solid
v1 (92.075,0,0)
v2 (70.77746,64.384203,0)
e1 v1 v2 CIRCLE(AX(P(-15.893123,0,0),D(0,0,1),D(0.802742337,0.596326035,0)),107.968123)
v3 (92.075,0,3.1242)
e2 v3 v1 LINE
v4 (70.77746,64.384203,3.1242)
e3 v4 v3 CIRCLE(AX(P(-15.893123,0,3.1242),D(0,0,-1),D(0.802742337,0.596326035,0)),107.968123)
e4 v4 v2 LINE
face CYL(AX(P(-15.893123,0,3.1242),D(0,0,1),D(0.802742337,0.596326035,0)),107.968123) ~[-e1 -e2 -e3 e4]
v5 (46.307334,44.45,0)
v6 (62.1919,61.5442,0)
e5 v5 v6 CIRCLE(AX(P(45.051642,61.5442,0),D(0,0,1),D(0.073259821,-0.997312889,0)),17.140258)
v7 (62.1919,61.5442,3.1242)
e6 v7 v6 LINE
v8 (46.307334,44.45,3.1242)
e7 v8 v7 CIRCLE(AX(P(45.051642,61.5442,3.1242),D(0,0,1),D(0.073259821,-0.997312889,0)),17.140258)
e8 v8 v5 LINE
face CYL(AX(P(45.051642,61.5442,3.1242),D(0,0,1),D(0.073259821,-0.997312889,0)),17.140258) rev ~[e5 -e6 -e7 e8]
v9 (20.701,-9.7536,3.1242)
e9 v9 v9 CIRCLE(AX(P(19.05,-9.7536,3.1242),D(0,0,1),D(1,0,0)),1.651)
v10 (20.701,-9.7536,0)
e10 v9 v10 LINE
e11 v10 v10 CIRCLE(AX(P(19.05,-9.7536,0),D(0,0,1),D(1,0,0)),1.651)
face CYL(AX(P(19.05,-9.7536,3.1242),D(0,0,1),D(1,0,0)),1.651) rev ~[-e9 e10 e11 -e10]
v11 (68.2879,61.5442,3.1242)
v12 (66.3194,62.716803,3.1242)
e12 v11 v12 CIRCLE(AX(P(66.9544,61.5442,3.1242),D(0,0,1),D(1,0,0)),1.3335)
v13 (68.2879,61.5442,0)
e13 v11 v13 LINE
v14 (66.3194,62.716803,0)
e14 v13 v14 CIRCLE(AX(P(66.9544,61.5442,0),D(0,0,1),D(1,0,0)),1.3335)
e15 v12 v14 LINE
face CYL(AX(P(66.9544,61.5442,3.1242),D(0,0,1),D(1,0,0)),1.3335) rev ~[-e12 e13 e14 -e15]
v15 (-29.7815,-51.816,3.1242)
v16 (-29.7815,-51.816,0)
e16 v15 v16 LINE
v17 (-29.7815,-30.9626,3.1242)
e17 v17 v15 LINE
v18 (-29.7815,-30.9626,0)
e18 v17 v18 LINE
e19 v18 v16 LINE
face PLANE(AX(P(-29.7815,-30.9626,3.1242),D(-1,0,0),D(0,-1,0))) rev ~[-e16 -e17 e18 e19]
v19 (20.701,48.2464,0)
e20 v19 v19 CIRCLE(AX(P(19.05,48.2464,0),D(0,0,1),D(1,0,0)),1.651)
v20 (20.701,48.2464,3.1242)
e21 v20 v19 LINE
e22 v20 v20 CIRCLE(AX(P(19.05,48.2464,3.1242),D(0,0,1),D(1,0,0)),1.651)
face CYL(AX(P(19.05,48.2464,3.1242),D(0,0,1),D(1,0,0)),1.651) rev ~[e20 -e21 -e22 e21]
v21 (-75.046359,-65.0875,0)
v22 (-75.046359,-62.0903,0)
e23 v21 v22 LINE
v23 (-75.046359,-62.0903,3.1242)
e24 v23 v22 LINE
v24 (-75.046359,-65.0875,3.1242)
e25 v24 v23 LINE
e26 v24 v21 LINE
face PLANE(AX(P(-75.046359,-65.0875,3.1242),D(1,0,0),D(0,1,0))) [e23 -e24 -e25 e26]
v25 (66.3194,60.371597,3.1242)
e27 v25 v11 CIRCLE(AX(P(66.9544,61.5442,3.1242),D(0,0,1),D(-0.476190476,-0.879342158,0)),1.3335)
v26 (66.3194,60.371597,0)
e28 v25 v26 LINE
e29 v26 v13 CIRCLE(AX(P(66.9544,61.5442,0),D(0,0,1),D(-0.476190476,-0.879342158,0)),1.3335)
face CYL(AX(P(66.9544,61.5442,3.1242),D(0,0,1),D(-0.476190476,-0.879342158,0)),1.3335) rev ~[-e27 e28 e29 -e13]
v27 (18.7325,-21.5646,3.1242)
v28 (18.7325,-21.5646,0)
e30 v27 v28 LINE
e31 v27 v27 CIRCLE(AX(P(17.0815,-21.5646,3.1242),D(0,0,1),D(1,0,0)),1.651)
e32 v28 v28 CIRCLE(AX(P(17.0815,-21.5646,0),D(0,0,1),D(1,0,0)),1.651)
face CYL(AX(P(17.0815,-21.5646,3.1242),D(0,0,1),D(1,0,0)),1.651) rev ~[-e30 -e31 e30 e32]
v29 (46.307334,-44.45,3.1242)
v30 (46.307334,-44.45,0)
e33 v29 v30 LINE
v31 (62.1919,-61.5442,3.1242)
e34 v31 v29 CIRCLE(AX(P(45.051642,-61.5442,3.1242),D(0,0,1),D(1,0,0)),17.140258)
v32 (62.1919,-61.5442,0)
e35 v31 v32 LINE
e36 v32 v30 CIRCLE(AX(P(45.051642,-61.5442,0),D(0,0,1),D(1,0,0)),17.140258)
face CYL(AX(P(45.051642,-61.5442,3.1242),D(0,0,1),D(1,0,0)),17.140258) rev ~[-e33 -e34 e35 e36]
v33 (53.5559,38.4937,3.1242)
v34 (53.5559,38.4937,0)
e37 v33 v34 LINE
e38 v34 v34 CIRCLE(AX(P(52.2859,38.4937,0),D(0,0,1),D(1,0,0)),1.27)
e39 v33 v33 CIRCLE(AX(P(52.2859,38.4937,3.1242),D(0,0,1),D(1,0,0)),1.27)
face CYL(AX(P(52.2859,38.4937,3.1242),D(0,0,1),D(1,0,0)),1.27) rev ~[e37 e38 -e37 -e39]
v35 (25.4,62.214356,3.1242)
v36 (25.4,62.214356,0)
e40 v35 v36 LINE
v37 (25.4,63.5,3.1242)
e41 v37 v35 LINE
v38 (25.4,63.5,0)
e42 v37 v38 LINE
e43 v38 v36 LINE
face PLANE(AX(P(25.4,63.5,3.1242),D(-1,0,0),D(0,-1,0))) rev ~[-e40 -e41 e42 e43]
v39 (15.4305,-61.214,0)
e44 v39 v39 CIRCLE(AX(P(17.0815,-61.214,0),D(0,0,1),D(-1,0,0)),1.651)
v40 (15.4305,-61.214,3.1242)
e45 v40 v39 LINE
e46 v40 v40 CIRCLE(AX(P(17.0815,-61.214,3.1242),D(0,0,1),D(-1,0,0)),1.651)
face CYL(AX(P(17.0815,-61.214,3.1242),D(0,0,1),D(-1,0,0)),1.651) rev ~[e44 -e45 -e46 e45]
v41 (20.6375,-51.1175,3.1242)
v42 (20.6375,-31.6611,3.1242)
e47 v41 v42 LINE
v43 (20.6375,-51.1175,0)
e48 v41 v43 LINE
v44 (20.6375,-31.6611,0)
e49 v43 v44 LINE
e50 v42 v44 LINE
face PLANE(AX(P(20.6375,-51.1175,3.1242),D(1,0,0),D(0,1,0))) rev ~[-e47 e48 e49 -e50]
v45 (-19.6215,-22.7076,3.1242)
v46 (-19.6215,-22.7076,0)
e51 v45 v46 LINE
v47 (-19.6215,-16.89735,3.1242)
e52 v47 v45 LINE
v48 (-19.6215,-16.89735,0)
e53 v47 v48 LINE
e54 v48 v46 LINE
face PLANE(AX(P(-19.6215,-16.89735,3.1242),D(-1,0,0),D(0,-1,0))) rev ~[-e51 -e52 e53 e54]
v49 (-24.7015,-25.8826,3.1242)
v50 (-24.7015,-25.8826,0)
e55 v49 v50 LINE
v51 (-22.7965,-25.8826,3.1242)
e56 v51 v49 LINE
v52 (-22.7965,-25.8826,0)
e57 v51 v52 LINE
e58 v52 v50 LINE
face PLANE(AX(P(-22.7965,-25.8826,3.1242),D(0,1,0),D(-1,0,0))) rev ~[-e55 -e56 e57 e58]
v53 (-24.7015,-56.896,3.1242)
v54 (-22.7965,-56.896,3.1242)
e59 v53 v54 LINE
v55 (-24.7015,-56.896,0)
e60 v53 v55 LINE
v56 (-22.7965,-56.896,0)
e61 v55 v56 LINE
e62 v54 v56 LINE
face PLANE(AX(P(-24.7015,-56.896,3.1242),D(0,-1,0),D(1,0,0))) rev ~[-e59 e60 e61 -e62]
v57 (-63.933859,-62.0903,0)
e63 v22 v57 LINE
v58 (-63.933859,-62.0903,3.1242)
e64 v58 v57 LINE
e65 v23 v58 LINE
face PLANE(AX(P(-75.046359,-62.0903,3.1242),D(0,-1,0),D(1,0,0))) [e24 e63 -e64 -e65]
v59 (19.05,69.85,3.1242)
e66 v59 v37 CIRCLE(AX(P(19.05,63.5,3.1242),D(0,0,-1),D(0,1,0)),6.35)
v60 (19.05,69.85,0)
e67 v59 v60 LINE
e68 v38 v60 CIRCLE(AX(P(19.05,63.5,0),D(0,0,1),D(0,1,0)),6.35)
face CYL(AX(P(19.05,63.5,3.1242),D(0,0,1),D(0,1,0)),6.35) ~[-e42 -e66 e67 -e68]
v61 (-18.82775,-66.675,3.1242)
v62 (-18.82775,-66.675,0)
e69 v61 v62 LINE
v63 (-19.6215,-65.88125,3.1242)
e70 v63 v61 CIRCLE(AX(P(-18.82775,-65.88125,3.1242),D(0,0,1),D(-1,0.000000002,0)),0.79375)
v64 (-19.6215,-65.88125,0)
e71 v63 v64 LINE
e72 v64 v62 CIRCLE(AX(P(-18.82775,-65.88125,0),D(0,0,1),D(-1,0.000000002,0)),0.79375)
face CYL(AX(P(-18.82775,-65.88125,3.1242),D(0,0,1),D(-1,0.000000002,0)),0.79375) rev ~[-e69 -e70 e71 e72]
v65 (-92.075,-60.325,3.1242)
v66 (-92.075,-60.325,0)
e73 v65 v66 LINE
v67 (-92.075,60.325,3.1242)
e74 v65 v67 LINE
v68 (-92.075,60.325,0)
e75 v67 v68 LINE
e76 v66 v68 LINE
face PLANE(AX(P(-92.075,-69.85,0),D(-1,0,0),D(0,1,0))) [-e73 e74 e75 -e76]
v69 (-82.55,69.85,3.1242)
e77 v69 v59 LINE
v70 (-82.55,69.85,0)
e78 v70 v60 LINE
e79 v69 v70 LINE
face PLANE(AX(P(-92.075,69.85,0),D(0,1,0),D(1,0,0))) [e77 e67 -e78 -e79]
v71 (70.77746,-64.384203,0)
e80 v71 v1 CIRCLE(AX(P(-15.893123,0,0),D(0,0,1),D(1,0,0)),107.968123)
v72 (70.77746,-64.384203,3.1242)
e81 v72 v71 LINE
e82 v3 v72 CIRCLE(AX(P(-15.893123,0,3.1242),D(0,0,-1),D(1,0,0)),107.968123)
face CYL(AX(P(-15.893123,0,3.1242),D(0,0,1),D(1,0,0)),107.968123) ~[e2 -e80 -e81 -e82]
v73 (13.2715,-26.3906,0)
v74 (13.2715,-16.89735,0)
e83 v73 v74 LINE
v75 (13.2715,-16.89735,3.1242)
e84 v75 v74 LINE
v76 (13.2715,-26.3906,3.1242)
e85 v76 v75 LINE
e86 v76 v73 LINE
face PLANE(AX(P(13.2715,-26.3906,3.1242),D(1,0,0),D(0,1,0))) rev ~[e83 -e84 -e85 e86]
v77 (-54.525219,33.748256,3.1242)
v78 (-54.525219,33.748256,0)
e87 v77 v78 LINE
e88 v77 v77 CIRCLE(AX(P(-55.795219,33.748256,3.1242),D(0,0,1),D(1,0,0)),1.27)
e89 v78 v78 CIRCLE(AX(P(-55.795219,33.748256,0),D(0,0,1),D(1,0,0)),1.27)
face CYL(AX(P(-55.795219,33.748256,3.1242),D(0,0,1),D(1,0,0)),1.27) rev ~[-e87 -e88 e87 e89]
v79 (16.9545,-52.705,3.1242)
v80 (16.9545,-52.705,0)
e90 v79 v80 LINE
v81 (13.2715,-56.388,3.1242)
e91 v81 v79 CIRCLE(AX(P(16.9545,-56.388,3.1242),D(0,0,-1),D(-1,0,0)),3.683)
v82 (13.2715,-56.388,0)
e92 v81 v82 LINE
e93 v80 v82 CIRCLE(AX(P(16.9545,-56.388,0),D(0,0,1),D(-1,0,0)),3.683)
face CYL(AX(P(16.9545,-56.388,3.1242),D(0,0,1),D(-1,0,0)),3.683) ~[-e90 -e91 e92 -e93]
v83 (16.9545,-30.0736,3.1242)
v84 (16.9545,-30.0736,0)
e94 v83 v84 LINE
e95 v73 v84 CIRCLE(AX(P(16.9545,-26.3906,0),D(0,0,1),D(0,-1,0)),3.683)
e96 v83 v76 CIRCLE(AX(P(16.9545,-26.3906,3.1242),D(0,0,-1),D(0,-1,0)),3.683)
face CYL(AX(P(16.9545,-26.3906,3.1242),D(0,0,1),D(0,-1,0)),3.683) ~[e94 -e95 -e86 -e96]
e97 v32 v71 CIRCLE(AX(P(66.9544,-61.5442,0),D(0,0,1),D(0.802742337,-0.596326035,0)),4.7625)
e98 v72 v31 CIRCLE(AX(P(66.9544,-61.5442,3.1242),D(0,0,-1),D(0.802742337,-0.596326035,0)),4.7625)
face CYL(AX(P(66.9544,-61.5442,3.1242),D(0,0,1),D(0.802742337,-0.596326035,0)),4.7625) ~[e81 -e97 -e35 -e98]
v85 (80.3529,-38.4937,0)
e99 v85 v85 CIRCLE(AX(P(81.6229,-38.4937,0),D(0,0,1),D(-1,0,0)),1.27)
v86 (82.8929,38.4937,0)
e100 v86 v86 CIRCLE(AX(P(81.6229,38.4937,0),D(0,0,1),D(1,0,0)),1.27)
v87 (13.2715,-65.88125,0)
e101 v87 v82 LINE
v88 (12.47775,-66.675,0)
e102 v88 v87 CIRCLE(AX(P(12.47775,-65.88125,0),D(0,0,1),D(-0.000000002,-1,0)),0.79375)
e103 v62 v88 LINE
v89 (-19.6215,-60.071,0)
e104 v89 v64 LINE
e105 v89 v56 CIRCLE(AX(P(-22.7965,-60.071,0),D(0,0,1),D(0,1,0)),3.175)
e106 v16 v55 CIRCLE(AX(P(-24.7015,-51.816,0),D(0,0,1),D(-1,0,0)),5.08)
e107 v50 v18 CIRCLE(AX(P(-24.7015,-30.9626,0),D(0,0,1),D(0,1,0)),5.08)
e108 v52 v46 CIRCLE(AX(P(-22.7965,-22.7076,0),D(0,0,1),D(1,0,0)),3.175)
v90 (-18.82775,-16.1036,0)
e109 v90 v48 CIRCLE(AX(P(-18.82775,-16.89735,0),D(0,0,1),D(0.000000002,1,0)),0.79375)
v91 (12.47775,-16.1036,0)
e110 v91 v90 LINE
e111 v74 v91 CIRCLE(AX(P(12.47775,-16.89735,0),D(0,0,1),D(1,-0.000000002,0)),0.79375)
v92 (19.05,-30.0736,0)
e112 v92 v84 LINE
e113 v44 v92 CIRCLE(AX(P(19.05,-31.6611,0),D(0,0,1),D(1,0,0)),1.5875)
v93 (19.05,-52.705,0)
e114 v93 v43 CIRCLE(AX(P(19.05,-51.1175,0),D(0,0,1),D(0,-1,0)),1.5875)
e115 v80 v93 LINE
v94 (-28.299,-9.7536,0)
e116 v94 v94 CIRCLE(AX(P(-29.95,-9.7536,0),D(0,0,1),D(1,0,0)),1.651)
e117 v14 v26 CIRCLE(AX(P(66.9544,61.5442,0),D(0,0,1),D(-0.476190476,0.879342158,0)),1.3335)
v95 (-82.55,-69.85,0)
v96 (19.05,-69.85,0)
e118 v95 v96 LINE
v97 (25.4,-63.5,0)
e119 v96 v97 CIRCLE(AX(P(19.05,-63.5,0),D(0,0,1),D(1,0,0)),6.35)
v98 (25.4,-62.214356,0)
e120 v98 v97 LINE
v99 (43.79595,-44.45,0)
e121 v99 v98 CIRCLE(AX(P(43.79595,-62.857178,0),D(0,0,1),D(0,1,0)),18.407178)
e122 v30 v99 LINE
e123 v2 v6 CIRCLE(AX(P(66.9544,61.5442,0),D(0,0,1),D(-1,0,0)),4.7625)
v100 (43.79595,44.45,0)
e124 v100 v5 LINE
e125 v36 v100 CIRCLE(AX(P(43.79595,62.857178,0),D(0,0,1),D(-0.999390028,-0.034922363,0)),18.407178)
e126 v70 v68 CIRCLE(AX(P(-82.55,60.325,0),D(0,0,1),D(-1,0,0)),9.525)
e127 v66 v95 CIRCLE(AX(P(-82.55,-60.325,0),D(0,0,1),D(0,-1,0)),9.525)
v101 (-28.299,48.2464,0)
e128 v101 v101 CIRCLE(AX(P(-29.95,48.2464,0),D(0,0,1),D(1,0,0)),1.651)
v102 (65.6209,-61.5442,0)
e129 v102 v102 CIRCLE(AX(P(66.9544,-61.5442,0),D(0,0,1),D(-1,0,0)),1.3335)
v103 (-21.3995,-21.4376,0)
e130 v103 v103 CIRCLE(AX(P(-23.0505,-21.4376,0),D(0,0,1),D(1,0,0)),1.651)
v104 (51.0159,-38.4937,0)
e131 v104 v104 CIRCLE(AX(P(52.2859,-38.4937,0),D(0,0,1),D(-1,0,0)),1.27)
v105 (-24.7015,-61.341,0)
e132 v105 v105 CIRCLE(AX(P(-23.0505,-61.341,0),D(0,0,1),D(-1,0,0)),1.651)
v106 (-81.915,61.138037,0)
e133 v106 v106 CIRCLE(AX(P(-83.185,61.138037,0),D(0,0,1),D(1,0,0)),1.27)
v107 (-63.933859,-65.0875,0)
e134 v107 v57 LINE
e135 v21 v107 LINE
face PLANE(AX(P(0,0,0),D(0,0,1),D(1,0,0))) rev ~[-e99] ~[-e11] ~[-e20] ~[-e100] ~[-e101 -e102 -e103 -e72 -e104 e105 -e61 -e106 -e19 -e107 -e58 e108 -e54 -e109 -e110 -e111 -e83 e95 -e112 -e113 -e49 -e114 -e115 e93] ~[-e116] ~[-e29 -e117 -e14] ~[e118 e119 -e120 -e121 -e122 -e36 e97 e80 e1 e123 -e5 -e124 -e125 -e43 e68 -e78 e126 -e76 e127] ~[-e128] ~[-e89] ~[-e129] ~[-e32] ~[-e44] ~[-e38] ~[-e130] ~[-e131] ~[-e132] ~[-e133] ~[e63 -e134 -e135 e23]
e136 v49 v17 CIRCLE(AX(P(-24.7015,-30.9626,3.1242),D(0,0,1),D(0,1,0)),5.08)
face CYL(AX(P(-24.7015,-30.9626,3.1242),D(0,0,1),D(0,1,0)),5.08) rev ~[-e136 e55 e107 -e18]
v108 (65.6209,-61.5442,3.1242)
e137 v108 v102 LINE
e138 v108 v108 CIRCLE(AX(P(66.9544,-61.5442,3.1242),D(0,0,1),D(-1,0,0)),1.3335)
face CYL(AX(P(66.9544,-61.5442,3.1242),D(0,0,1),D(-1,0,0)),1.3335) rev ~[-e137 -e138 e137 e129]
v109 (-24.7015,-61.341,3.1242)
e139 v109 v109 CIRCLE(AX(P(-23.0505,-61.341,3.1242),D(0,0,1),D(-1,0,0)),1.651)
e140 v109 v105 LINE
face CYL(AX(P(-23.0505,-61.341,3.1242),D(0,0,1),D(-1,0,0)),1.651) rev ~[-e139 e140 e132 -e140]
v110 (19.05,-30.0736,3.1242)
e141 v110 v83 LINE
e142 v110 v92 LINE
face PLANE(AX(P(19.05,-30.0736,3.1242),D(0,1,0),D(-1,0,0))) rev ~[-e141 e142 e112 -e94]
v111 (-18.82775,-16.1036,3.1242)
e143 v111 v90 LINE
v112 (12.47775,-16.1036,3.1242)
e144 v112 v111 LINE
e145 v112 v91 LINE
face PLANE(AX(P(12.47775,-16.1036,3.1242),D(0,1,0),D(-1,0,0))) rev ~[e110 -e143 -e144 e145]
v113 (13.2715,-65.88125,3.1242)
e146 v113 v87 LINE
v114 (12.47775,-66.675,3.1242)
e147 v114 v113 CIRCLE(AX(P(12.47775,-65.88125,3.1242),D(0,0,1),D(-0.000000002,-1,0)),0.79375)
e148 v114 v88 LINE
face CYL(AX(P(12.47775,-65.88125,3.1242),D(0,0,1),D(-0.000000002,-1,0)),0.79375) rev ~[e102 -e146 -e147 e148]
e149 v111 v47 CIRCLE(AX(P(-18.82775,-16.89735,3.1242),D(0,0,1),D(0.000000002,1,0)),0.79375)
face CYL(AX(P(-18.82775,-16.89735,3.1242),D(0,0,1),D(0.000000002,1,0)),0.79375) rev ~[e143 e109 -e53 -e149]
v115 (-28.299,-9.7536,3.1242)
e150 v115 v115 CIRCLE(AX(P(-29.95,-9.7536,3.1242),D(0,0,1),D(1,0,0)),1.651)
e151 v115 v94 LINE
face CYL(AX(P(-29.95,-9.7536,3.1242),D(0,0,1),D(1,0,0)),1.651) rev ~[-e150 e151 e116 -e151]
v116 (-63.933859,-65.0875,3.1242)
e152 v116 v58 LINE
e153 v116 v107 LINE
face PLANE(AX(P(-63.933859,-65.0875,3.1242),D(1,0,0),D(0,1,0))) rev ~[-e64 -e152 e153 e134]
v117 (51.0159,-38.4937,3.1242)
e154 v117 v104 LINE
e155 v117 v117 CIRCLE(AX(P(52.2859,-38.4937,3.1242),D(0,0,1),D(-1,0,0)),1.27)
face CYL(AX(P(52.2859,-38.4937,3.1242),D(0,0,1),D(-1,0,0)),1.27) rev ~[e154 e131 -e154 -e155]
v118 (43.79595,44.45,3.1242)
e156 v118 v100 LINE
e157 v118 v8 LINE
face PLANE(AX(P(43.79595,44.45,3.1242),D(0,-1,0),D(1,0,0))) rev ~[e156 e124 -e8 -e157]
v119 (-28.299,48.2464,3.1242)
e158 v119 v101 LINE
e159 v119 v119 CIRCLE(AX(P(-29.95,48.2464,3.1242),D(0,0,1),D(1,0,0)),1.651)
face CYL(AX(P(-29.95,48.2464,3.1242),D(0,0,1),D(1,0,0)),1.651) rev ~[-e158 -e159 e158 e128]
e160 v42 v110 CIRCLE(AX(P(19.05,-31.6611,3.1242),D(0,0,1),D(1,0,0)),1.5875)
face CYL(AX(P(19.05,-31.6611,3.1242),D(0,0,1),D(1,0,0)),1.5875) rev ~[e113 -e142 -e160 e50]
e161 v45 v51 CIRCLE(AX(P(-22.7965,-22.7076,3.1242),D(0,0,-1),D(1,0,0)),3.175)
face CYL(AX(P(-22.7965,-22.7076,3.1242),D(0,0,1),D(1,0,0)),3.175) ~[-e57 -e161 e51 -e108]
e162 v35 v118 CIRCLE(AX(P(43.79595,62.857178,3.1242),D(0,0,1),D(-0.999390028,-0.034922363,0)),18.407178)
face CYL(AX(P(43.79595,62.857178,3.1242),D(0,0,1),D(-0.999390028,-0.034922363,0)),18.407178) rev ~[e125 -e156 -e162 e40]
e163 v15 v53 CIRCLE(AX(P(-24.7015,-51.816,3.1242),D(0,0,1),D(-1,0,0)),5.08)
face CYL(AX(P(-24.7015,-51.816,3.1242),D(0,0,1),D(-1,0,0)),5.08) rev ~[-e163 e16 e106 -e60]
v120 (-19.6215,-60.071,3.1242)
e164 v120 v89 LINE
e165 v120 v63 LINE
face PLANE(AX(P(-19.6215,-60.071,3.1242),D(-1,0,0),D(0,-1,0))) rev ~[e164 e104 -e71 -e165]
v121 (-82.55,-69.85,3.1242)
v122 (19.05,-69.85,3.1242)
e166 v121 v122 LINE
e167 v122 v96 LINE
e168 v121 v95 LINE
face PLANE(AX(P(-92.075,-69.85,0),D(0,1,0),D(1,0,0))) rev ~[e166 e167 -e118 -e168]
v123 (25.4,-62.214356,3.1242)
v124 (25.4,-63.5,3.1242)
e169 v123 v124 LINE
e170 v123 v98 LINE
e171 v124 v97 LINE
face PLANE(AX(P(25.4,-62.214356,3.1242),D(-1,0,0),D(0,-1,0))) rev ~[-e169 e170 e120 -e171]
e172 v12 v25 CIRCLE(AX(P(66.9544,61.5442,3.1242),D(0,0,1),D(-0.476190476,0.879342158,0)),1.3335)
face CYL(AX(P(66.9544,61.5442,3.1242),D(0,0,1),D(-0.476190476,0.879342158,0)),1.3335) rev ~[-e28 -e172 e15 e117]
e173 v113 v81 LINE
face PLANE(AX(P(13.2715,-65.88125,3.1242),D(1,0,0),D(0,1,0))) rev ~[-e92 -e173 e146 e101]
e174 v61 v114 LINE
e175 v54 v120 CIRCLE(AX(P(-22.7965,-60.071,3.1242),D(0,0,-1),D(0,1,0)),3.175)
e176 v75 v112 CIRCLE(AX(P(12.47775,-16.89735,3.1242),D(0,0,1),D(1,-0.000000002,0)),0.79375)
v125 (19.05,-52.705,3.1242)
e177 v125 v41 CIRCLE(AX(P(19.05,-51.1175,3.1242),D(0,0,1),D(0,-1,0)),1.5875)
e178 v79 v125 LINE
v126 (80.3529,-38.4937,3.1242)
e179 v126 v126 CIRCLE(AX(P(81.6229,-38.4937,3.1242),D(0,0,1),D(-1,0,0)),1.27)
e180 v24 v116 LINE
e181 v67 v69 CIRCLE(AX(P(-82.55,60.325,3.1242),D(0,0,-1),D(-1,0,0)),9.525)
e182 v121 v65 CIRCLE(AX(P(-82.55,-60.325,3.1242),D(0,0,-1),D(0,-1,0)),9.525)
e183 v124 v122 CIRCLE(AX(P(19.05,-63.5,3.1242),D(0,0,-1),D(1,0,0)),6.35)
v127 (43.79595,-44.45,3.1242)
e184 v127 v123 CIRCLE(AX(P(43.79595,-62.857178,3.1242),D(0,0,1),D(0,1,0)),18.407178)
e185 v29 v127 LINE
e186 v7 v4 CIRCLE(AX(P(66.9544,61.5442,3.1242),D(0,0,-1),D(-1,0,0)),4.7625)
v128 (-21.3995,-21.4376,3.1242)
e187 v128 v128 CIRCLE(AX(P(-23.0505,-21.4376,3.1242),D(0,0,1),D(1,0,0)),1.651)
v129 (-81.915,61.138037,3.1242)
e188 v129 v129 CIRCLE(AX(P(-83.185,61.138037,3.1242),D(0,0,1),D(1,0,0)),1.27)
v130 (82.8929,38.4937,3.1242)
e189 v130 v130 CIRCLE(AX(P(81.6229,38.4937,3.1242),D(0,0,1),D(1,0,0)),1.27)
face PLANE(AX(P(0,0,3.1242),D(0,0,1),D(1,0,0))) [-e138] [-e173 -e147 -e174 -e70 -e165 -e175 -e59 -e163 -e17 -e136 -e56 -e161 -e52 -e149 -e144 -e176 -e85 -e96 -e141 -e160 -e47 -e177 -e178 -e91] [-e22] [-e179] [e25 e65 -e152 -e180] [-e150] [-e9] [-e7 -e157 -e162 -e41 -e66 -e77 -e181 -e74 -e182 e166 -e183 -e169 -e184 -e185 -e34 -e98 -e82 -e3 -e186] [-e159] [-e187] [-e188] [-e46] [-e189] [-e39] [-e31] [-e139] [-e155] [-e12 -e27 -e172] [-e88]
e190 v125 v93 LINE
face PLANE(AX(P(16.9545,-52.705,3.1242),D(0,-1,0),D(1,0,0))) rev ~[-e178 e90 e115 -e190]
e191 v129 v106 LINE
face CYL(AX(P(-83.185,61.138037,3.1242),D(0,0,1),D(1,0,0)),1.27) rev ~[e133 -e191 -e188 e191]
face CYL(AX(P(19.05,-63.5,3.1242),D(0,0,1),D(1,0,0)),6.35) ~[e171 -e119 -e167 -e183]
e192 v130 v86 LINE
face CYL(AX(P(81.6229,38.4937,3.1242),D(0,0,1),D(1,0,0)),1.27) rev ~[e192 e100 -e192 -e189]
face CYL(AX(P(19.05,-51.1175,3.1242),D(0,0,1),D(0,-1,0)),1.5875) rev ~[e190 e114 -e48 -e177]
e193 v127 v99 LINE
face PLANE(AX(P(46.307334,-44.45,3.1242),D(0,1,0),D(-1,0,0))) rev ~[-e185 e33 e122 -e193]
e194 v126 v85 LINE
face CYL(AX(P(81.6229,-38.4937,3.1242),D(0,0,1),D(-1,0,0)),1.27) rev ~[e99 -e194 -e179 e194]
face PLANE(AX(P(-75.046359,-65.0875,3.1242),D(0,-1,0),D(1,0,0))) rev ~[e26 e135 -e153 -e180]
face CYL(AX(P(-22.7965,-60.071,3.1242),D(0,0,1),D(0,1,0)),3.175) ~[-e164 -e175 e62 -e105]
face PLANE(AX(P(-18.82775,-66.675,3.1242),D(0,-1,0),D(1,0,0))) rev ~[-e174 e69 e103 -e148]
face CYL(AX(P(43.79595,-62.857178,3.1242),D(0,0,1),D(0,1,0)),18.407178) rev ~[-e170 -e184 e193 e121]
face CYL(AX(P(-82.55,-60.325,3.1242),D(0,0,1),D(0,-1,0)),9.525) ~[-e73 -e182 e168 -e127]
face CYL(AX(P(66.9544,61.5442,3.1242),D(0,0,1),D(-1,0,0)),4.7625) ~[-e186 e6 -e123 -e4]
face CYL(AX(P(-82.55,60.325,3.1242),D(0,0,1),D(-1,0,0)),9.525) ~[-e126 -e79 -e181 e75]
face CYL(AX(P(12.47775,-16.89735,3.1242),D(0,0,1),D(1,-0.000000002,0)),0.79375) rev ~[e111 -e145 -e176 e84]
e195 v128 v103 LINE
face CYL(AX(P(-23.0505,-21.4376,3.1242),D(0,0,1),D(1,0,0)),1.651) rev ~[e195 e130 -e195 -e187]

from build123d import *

# Parameters (mm, degrees)
CROQUIS1_W              = 184.15
CROQUIS1_H              = 139.7
SALIENTE_EXTRUIR1_DEPTH = 3.1242
CROQUIS2_R              = 1.3335
CORTAR_EXTRUIR1_DEPTH   = 116.613964341
CROQUIS9_R              = 1.27
CORTAR_EXTRUIR6_DEPTH   = 116.613964341
CORTAR_EXTRUIR2_DEPTH   = 116.613964341
CROQUIS5_R              = 1.651
DRIVER_DEPTH            = 116.613964341
CROQUIS6_R              = 1.651
RASPI_DEPTH             = 116.613964341
CROQUIS8_R              = 1.27
CORTAR_EXTRUIR5_DEPTH   = 116.613964341
CROQUIS7_W              = 11.1125
CROQUIS7_H              = 2.9972
CORTAR_EXTRUIR7_DEPTH   = 116.613964341


with BuildPart() as part:
    # Croquis1 → Saliente-Extruir1 (new body)
    with BuildSketch(Plane.XY):
        Rectangle(CROQUIS1_W, CROQUIS1_H)
    extrude(amount=SALIENTE_EXTRUIR1_DEPTH)

    # Croquis2 → Cortar-Extruir1 (cut, through all)
    with BuildSketch(Plane.XY.offset(3.1242)):
        with BuildLine():
            ThreePointArc((68.2879, 61.5442), (67.636840382, 62.689842778), (66.3194, 62.716802767))
            Line((66.3194, 62.716802767), (66.3194, 60.371597233))
            ThreePointArc((66.3194, 60.371597233), (67.636840382, 60.398557222), (68.2879, 61.5442))
        make_face()
        with BuildLine():
            Line((66.3194, 60.371597233), (66.3194, 62.716802767))
            ThreePointArc((66.3194, 62.716802767), (65.6209, 61.5442), (66.3194, 60.371597233))
        make_face()
        with Locations(Location((66.9544, -61.5442, 0), (0, 0, 180))):
            Circle(CROQUIS2_R)
    extrude(amount=-CORTAR_EXTRUIR1_DEPTH, mode=Mode.SUBTRACT)

    # Croquis9 → Cortar-Extruir6 (cut, through all)
    with BuildSketch(Plane.XY.offset(3.1242)):
        with Locations((52.2859, 38.4937)):
            Circle(CROQUIS9_R)
        with Locations((81.6229, 38.4937)):
            Circle(CROQUIS9_R)
        with Locations(Location((81.6229, -38.4937, 0), (0, 0, 180))):
            Circle(CROQUIS9_R)
        with Locations(Location((52.2859, -38.4937, 0), (0, 0, 180))):
            Circle(CROQUIS9_R)
    extrude(amount=-CORTAR_EXTRUIR6_DEPTH, mode=Mode.SUBTRACT)

    # Croquis3 → Cortar-Extruir2 (cut, through all)
    with BuildSketch(Plane.XY.offset(3.1242)):
        with BuildLine():
            ThreePointArc((19.05, 69.85), (23.540128061, 67.990128061), (25.4, 63.5))
            Line((25.4, 63.5), (25.4, 62.214355717))
            ThreePointArc((25.4, 62.214355717), (31.009401302, 49.616015934), (43.79595, 44.45))
            Line((43.79595, 44.45), (46.307334449, 44.45))
            ThreePointArc((46.307334449, 44.45), (57.607742834, 49.876604957), (62.1919, 61.5442))
            ThreePointArc((62.1919, 61.5442), (65.45872604, 66.06574461), (70.77746038, 64.384202742))
            ThreePointArc((70.77746038, 64.384202742), (86.61242756, 33.907634674), (92.075, 0))
            Line((92.075, 0), (92.075, 69.85))
            Line((92.075, 69.85), (19.05, 69.85))
        make_face()
        with BuildLine():
            Line((92.075, -69.85), (92.075, 0))
            ThreePointArc((92.075, 0), (86.61242756, -33.907634674), (70.77746038, -64.384202742))
            ThreePointArc((70.77746038, -64.384202742), (65.45872604, -66.06574461), (62.1919, -61.5442))
            ThreePointArc((62.1919, -61.5442), (57.607742834, -49.876604957), (46.307334449, -44.45))
            Line((46.307334449, -44.45), (43.79595, -44.45))
            ThreePointArc((43.79595, -44.45), (31.009401302, -49.616015934), (25.4, -62.214355717))
            Line((25.4, -62.214355717), (25.4, -63.5))
            ThreePointArc((25.4, -63.5), (23.540128061, -67.990128061), (19.05, -69.85))
            Line((19.05, -69.85), (92.075, -69.85))
        make_face()
        with BuildLine():
            ThreePointArc((-92.075, 60.325), (-89.285192091, 67.060192091), (-82.55, 69.85))
            Line((-82.55, 69.85), (-92.075, 69.85))
            Line((-92.075, 69.85), (-92.075, 60.325))
        make_face()
        with BuildLine():
            Line((-92.075, -69.85), (-82.55, -69.85))
            ThreePointArc((-82.55, -69.85), (-89.285192091, -67.060192091), (-92.075, -60.325))
            Line((-92.075, -60.325), (-92.075, -69.85))
        make_face()
    extrude(amount=-CORTAR_EXTRUIR2_DEPTH, mode=Mode.SUBTRACT)

    # Croquis5 → Driver (cut, through all)
    with BuildSketch(Plane.XY.offset(3.1242)):
        with BuildLine():
            Line((12.47775, -16.1036), (-18.82775, -16.1036))
            ThreePointArc((-18.82775, -16.1036), (-19.389016008, -16.336083992), (-19.6215, -16.89735))
            Line((-19.6215, -16.89735), (-19.6215, -22.7076))
            ThreePointArc((-19.6215, -22.7076), (-20.55143597, -24.95266403), (-22.7965, -25.8826))
            Line((-22.7965, -25.8826), (-24.7015, -25.8826))
            ThreePointArc((-24.7015, -25.8826), (-28.293602448, -27.370497552), (-29.7815, -30.9626))
            Line((-29.7815, -30.9626), (-29.7815, -51.816))
            ThreePointArc((-29.7815, -51.816), (-28.293602448, -55.408102448), (-24.7015, -56.896))
            Line((-24.7015, -56.896), (-22.7965, -56.896))
            ThreePointArc((-22.7965, -56.896), (-20.55143597, -57.82593597), (-19.6215, -60.071))
            Line((-19.6215, -60.071), (-19.6215, -65.88125))
            ThreePointArc((-19.6215, -65.88125), (-19.389016008, -66.442516008), (-18.82775, -66.675))
            Line((-18.82775, -66.675), (12.47775, -66.675))
            ThreePointArc((12.47775, -66.675), (13.039016008, -66.442516008), (13.2715, -65.88125))
            Line((13.2715, -65.88125), (13.2715, -56.388))
            ThreePointArc((13.2715, -56.388), (14.350225725, -53.783725725), (16.9545, -52.705))
            Line((16.9545, -52.705), (19.05, -52.705))
            ThreePointArc((19.05, -52.705), (20.172532015, -52.240032015), (20.6375, -51.1175))
            Line((20.6375, -51.1175), (20.6375, -31.6611))
            ThreePointArc((20.6375, -31.6611), (20.172532015, -30.538567985), (19.05, -30.0736))
            Line((19.05, -30.0736), (16.9545, -30.0736))
            ThreePointArc((16.9545, -30.0736), (14.350225725, -28.994874275), (13.2715, -26.3906))
            Line((13.2715, -26.3906), (13.2715, -16.89735))
            ThreePointArc((13.2715, -16.89735), (13.039016008, -16.336083992), (12.47775, -16.1036))
        make_face()
        with Locations((17.0815, -21.5646)):
            Circle(CROQUIS5_R)
        with Locations((-23.0505, -21.4376)):
            Circle(CROQUIS5_R)
        with Locations(Location((17.0815, -61.214, 0), (0, 0, 180))):
            Circle(CROQUIS5_R)
        with Locations(Location((-23.0505, -61.341, 0), (0, 0, 180))):
            Circle(CROQUIS5_R)
    extrude(amount=-DRIVER_DEPTH, mode=Mode.SUBTRACT)

    # Croquis6 → RasPi (cut, through all)
    with BuildSketch(Plane.XY.offset(3.1242)):
        with Locations((-29.95, 48.2464)):
            Circle(CROQUIS6_R)
        with Locations((19.05, 48.2464)):
            Circle(CROQUIS6_R)
        with Locations((19.05, -9.7536)):
            Circle(CROQUIS6_R)
        with Locations((-29.95, -9.7536)):
            Circle(CROQUIS6_R)
    extrude(amount=-RASPI_DEPTH, mode=Mode.SUBTRACT)

    # Croquis8 → Cortar-Extruir5 (cut, through all)
    with BuildSketch(Plane.XY.offset(3.1242)):
        with Locations((-83.185, 61.138037406)):
            Circle(CROQUIS8_R)
        with Locations((-55.795218831, 33.748256237)):
            Circle(CROQUIS8_R)
    extrude(amount=-CORTAR_EXTRUIR5_DEPTH, mode=Mode.SUBTRACT)

    # Croquis7 → Cortar-Extruir7 (cut, through all)
    with BuildSketch(Plane.XY.offset(3.1242)):
        with Locations((-69.490109415, -63.5889)):
            Rectangle(CROQUIS7_W, CROQUIS7_H)
    extrude(amount=-CORTAR_EXTRUIR7_DEPTH, mode=Mode.SUBTRACT)


solid = part.part
